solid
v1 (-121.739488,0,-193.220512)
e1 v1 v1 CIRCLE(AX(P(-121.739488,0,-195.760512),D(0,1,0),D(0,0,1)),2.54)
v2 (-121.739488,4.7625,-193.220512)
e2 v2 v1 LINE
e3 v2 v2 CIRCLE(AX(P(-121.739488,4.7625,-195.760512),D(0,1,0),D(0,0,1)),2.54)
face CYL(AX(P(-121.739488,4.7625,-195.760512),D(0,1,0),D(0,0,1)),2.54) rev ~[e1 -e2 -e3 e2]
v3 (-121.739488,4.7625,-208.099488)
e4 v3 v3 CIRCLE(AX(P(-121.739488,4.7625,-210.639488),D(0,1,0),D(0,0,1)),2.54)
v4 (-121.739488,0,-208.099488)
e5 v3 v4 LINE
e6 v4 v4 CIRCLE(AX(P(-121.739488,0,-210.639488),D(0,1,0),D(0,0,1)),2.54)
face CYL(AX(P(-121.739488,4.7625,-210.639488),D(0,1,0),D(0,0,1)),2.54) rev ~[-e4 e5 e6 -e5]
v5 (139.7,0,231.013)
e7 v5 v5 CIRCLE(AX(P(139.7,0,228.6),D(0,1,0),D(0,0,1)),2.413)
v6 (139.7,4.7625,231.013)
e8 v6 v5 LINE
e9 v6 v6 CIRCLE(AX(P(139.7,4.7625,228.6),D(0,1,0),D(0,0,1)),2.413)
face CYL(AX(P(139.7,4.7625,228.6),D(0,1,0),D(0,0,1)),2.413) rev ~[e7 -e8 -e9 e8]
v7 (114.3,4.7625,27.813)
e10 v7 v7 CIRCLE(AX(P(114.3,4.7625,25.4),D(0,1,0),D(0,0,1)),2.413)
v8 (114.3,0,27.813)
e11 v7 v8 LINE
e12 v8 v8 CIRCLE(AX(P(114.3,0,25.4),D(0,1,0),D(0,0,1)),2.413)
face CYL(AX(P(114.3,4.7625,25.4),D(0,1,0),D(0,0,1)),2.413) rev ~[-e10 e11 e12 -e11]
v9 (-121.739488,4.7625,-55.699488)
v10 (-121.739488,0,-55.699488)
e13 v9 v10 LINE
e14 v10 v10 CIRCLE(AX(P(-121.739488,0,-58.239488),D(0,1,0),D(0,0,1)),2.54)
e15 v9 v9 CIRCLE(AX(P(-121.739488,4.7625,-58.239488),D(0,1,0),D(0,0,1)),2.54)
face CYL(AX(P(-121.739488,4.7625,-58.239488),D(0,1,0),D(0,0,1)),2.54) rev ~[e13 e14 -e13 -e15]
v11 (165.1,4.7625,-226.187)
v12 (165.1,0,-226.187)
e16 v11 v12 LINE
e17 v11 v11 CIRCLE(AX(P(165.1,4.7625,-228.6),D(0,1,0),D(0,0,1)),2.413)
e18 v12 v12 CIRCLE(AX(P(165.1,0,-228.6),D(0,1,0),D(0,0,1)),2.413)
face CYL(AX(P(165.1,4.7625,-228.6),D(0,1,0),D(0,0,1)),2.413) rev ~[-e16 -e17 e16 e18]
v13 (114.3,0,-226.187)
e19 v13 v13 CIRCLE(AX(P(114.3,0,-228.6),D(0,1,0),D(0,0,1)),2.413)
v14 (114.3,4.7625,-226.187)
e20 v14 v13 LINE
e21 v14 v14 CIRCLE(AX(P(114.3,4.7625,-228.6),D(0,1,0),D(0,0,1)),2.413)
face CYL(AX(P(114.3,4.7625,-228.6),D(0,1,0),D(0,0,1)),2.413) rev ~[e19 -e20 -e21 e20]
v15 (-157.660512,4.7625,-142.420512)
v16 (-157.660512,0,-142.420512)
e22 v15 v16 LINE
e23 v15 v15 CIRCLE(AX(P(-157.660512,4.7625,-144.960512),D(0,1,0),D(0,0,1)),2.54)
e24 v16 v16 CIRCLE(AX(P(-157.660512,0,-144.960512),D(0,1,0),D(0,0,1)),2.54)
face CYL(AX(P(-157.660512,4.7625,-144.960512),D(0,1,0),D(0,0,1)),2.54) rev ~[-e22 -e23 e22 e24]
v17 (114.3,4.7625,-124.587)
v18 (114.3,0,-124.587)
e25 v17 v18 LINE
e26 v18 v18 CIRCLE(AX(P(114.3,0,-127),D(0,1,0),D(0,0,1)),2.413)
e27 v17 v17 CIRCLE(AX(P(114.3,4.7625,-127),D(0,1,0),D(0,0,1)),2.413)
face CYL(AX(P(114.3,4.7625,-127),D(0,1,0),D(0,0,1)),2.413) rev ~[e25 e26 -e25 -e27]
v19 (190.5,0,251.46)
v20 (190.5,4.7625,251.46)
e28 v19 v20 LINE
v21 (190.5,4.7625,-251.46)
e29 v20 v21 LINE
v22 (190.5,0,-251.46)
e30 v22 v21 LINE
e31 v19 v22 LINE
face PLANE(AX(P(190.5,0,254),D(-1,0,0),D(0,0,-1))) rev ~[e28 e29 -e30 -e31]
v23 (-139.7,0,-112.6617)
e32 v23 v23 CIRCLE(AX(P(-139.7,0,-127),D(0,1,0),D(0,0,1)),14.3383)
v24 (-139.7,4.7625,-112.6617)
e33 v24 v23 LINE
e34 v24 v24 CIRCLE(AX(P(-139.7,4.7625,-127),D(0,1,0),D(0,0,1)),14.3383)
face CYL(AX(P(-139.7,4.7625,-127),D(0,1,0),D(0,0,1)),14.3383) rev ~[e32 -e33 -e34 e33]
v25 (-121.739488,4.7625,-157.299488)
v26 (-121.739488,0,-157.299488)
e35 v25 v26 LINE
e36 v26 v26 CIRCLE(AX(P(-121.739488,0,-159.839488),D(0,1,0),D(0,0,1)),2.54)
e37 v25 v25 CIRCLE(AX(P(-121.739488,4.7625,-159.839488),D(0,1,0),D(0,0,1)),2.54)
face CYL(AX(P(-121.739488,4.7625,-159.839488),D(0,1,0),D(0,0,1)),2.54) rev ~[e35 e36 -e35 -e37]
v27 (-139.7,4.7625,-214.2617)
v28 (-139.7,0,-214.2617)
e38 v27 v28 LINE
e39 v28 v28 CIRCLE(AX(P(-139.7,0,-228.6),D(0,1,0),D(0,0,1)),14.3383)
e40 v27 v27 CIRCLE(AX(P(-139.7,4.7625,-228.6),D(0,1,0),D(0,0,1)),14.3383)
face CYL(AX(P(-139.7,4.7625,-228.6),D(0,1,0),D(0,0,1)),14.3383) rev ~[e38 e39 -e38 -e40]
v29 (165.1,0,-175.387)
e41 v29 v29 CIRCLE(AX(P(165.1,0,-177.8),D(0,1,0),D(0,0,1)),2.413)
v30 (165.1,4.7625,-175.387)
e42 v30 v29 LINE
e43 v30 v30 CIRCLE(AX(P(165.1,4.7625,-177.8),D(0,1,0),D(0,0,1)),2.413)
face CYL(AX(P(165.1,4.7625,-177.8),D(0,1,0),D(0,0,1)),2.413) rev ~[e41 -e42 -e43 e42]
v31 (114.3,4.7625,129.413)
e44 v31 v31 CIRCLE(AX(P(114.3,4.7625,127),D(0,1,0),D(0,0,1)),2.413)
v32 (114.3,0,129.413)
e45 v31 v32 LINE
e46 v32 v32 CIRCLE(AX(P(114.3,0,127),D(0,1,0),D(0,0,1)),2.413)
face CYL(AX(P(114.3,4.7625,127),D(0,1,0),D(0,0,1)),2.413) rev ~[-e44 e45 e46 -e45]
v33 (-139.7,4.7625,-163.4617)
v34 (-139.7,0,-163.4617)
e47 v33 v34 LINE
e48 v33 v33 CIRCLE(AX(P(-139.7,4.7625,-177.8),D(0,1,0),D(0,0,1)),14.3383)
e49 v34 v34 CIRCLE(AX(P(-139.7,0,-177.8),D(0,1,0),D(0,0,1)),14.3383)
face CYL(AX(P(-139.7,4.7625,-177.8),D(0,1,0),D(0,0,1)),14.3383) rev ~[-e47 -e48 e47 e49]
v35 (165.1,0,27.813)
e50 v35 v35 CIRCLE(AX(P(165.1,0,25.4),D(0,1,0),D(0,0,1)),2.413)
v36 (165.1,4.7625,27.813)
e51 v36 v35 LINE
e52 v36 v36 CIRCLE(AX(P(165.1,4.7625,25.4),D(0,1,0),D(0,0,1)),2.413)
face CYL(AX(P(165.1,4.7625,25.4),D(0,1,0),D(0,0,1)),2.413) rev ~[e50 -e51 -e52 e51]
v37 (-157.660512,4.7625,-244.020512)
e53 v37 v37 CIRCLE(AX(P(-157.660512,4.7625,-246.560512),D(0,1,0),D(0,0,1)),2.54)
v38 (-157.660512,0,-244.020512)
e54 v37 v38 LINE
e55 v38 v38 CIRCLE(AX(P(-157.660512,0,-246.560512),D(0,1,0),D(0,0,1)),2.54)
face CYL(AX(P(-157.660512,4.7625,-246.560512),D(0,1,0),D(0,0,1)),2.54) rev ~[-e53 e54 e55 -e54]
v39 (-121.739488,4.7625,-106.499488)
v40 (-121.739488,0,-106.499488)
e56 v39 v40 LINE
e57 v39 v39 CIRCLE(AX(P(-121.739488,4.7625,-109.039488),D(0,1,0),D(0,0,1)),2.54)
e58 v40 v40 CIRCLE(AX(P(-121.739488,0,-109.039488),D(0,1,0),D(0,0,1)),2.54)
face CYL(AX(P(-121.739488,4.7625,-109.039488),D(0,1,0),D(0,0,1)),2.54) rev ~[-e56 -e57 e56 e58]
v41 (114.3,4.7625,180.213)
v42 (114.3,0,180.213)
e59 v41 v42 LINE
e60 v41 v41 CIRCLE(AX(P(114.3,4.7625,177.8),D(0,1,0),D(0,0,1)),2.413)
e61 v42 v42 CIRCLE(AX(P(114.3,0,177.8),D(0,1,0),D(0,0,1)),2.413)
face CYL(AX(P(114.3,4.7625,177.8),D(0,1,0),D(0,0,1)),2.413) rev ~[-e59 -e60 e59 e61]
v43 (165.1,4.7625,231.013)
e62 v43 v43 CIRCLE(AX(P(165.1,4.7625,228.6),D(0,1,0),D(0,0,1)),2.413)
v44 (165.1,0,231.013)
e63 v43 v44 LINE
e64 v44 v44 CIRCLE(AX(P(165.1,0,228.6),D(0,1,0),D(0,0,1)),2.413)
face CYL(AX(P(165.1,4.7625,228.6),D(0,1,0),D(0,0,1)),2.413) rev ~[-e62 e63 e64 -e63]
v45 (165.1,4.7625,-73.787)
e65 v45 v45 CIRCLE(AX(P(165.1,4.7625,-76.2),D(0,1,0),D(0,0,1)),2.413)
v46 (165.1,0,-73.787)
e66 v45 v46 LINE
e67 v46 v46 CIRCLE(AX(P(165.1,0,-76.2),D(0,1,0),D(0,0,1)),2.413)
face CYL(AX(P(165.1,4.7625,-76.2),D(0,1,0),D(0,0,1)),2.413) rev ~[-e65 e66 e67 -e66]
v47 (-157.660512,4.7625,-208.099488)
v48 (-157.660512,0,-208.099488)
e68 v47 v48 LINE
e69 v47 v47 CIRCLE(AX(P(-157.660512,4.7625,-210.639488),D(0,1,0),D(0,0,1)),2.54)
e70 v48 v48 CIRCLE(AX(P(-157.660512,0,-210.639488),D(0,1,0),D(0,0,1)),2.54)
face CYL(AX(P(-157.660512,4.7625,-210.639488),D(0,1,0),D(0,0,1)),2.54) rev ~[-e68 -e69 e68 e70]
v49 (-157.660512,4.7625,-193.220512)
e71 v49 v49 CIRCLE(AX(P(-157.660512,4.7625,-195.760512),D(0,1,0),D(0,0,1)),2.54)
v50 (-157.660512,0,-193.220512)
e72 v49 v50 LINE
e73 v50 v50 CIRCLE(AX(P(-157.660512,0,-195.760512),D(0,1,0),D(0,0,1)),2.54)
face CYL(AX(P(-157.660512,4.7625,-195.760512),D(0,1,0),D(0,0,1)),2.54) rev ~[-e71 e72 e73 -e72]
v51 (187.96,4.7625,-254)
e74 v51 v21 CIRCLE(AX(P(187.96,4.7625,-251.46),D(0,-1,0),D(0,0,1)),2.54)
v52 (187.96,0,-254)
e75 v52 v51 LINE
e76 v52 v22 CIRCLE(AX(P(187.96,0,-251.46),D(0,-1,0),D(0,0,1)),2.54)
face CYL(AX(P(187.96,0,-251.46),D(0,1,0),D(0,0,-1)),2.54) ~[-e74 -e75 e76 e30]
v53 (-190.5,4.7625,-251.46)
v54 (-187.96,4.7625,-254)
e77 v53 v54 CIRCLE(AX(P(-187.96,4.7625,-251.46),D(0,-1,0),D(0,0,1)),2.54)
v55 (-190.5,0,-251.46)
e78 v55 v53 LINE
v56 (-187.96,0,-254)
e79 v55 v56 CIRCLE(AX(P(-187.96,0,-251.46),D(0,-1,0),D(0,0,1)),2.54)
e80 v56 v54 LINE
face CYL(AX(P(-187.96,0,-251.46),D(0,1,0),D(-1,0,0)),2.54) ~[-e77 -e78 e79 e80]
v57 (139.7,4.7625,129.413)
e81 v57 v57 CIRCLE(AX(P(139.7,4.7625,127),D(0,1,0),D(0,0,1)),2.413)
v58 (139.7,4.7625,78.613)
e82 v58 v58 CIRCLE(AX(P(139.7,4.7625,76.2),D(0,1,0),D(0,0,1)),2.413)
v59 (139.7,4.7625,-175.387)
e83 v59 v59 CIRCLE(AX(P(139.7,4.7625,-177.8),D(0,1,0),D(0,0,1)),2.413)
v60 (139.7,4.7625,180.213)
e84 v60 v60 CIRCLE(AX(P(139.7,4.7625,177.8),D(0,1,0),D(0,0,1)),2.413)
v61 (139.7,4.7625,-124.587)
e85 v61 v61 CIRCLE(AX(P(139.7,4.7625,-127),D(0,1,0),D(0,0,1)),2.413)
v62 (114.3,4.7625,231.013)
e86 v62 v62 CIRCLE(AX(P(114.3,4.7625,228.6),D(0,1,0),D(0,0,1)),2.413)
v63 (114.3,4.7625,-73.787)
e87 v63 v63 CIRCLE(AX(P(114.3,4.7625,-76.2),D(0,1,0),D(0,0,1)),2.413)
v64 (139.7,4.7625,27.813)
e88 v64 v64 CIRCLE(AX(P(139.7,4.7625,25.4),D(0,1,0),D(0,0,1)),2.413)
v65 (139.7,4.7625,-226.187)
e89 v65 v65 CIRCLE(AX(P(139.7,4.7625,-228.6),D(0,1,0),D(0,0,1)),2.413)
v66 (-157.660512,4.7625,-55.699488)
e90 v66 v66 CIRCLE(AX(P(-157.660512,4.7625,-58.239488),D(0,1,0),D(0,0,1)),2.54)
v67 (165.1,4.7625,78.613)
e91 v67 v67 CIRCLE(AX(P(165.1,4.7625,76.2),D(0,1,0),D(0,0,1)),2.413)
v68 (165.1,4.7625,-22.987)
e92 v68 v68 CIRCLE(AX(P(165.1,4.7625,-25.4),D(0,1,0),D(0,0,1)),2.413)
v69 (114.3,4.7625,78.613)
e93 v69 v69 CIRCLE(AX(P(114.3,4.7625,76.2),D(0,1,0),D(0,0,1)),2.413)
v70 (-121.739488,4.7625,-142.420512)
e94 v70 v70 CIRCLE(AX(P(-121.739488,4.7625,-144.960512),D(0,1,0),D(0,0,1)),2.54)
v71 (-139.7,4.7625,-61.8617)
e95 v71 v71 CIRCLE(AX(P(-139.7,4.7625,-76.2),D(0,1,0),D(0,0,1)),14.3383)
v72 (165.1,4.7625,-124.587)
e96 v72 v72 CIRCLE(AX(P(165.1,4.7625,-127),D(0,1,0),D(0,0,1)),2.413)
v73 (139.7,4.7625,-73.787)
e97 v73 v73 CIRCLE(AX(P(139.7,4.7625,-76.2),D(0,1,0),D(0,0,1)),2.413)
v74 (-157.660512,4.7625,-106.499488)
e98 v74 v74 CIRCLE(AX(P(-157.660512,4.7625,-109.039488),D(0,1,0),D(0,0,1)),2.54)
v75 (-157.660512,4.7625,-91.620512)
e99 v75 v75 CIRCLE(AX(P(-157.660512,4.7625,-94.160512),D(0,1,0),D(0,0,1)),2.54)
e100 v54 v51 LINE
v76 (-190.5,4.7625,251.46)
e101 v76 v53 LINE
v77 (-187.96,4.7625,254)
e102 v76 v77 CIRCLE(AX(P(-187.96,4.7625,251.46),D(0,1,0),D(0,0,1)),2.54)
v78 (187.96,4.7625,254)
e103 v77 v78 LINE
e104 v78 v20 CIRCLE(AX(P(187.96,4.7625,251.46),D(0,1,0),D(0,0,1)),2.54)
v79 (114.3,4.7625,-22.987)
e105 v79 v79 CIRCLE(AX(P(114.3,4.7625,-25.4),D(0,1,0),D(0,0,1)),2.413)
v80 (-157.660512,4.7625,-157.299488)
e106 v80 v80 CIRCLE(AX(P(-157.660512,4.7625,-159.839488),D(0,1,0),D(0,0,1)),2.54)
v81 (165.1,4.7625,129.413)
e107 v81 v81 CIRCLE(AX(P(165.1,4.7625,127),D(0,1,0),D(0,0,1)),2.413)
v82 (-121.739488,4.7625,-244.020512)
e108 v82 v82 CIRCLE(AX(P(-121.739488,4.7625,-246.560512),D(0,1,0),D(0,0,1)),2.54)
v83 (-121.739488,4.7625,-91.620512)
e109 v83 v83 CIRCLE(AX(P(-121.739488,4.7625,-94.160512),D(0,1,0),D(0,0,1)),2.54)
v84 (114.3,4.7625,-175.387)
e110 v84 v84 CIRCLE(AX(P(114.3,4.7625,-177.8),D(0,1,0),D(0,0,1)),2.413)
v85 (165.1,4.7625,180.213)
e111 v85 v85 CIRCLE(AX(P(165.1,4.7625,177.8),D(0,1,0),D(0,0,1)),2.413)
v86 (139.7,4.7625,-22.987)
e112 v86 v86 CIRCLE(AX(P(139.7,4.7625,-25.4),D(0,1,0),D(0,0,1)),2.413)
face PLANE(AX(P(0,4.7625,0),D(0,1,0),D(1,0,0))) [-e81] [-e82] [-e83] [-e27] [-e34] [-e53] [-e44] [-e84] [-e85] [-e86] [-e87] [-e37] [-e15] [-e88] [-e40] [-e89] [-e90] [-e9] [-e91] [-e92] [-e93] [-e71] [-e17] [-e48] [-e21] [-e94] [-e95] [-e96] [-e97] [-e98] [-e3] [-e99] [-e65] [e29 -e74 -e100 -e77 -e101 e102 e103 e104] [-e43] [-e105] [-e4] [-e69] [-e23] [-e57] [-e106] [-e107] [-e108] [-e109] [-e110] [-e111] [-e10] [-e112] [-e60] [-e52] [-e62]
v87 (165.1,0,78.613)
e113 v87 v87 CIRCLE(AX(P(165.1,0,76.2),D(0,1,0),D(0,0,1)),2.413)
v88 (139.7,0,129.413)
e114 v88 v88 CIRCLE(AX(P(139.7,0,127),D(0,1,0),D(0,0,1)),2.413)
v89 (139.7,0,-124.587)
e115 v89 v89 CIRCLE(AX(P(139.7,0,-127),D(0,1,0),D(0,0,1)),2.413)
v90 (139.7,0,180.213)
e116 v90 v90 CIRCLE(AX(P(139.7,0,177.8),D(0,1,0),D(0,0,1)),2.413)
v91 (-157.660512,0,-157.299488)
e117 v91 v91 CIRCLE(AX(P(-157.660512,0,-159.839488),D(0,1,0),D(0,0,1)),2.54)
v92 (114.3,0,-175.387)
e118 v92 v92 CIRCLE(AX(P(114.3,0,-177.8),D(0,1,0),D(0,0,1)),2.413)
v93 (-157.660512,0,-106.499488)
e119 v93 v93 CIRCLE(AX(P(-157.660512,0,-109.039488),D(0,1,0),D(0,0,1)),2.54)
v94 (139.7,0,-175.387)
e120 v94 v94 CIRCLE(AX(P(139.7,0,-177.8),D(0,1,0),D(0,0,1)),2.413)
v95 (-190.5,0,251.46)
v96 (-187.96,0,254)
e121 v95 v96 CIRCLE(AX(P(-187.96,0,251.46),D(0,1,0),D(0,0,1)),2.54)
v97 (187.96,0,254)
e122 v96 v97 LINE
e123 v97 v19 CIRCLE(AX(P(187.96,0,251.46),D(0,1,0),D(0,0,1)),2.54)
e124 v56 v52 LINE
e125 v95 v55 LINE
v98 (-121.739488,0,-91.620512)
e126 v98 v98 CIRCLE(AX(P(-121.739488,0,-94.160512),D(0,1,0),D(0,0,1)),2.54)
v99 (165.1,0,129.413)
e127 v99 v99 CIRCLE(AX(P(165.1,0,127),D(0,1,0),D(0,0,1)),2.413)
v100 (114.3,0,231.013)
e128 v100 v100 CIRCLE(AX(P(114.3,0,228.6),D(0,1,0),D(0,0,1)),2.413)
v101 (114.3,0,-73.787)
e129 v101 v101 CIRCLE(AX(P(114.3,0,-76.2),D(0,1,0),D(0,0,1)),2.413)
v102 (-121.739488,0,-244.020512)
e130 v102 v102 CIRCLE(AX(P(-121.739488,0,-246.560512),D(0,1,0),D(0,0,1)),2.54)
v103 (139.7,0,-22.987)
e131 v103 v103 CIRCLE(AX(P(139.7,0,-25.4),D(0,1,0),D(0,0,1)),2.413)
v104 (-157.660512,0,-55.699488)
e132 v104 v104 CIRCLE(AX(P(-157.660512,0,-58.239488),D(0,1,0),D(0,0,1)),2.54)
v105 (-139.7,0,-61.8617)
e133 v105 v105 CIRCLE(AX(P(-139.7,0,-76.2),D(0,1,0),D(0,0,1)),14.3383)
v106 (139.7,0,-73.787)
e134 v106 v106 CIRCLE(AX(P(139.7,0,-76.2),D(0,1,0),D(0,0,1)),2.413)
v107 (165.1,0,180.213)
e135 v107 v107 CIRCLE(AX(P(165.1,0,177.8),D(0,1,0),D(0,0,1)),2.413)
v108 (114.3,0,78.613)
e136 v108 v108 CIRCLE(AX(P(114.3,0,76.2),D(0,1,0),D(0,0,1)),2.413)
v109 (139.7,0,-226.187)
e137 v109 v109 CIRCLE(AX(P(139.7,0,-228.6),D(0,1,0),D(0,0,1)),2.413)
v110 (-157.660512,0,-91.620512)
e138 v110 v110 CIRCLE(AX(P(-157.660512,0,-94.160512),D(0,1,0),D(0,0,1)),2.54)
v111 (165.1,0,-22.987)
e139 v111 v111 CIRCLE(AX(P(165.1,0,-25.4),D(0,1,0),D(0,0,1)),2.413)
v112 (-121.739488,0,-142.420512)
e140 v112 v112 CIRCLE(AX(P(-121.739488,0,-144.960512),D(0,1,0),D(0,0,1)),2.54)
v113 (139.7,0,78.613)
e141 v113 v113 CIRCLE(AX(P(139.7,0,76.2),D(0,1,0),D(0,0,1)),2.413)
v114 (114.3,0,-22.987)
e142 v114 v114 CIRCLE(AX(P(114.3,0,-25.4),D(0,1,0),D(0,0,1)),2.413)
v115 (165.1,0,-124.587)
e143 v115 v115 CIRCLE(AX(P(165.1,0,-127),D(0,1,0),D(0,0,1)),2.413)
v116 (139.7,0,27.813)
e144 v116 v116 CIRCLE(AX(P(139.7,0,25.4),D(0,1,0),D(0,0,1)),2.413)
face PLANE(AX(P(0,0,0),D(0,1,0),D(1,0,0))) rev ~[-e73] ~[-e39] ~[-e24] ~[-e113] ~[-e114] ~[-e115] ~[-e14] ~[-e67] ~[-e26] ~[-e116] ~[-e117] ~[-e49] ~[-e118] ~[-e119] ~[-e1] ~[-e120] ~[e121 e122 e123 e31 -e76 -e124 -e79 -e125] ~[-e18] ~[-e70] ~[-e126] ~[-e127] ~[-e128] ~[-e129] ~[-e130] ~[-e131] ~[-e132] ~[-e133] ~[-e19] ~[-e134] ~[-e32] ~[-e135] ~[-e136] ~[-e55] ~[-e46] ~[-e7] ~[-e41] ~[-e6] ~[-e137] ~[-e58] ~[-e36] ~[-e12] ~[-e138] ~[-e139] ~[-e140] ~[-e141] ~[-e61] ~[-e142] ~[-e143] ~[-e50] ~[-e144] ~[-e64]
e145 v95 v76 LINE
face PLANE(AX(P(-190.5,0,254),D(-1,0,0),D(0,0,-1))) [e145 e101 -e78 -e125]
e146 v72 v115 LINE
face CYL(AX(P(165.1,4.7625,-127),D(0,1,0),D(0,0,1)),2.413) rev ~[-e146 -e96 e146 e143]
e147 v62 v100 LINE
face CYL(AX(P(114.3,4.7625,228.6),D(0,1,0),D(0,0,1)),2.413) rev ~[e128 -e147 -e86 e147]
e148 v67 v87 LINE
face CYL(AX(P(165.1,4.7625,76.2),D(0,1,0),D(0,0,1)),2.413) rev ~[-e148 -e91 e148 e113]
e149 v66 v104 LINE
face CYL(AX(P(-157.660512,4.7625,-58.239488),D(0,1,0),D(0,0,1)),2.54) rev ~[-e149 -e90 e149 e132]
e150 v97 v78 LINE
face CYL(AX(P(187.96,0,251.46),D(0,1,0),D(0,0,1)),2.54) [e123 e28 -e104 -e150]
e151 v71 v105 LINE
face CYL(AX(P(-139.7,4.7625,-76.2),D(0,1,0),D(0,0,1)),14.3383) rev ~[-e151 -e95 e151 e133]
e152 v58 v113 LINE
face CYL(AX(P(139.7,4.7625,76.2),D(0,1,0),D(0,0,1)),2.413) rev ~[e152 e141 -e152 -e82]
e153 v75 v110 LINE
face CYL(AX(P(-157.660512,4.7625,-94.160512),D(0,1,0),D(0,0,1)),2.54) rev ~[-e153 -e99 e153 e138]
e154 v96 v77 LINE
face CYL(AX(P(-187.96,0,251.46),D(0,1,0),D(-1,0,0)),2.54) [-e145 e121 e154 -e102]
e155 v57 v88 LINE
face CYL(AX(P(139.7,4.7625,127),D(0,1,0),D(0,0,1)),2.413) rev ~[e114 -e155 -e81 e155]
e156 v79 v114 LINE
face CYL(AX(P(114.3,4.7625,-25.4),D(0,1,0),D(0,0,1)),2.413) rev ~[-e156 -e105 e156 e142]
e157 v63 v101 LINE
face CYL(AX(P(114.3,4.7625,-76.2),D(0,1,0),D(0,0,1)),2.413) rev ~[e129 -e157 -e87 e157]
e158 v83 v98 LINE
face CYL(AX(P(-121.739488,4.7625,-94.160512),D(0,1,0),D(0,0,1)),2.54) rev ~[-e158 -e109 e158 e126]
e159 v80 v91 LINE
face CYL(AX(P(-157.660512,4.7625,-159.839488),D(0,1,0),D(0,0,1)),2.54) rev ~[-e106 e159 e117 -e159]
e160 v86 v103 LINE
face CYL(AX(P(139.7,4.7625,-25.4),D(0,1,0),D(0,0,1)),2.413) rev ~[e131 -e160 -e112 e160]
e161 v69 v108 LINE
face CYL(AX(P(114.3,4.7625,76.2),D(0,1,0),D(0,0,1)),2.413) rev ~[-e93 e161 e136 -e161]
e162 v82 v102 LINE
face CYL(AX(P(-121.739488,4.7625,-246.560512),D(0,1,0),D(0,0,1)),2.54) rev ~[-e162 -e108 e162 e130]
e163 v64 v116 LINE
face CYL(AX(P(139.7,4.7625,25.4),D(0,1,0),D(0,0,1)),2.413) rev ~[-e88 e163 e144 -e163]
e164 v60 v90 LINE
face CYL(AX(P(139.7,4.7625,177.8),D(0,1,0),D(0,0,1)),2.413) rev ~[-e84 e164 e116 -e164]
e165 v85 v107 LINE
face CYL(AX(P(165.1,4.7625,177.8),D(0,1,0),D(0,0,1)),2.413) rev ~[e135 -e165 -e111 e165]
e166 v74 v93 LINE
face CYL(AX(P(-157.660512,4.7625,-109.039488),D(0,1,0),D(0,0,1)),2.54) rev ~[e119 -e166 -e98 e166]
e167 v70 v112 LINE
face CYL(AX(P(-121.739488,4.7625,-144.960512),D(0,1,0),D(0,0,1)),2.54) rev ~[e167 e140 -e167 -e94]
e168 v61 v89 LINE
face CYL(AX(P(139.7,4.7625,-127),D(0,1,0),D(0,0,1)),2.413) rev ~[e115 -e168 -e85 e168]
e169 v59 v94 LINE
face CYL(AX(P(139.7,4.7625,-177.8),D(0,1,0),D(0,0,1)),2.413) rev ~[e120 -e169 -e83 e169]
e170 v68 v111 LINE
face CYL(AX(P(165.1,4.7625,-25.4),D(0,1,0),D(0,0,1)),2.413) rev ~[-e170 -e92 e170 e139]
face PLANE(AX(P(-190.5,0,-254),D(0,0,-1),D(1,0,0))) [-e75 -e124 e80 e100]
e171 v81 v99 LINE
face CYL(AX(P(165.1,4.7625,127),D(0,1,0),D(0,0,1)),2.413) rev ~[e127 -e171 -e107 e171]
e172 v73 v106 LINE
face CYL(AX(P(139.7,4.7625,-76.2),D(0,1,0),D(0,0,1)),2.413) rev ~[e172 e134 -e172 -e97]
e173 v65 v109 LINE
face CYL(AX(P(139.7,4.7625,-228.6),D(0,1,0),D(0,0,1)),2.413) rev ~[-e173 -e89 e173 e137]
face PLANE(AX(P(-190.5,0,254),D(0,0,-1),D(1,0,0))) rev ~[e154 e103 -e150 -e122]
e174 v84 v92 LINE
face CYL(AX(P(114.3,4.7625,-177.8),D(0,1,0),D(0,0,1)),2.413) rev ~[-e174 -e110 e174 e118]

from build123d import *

# Parameters (mm, degrees)
SKETCH1_W           = 381
SKETCH1_H           = 508
BOSS_EXTRUDE1_DEPTH = 4.7625
SKETCH2_R           = 14.3383
SKETCH2_R_2         = 2.54
CUT_EXTRUDE1_DEPTH  = 4.7625
SKETCH3_R           = 2.413
CUT_EXTRUDE2_DEPTH  = 4.7625
FILLET1_R           = 2.54


with BuildPart() as part:
    # Sketch1 → Boss-Extrude1 (new body)
    with BuildSketch(Plane(origin=(0, 0, 0), x_dir=(1, 0, 0), z_dir=(0, 1, 0))):
        Rectangle(SKETCH1_W, SKETCH1_H)
    extrude(amount=BOSS_EXTRUDE1_DEPTH)

    # Sketch2 → Cut-Extrude1 (cut)
    with BuildSketch(Plane(origin=(0, 4.7625, 0), x_dir=(1, 0, 0), z_dir=(0, 1, 0))):
        with Locations(Location((-139.7, 228.6, 0), (0, 0, 270))):
            Circle(SKETCH2_R)
        with Locations(Location((-157.660512242, 246.560512242, 0), (0, 0, 270))):
            Circle(SKETCH2_R_2)
        with Locations(Location((-121.739487758, 246.560512242, 0), (0, 0, 270))):
            Circle(SKETCH2_R_2)
        with Locations(Location((-121.739487758, 210.639487758, 0), (0, 0, 270))):
            Circle(SKETCH2_R_2)
        with Locations(Location((-157.660512242, 210.639487758, 0), (0, 0, 270))):
            Circle(SKETCH2_R_2)
        with Locations(Location((-139.7, 177.8, 0), (0, 0, 270))):
            Circle(SKETCH2_R)
        with Locations(Location((-121.739487758, 195.760512242, 0), (0, 0, 270))):
            Circle(SKETCH2_R_2)
        with Locations(Location((-157.660512242, 195.760512242, 0), (0, 0, 270))):
            Circle(SKETCH2_R_2)
        with Locations(Location((-157.660512242, 159.839487758, 0), (0, 0, 270))):
            Circle(SKETCH2_R_2)
        with Locations(Location((-121.739487758, 159.839487758, 0), (0, 0, 270))):
            Circle(SKETCH2_R_2)
        with Locations(Location((-139.7, 127, 0), (0, 0, 270))):
            Circle(SKETCH2_R)
        with Locations(Location((-121.739487758, 144.960512242, 0), (0, 0, 270))):
            Circle(SKETCH2_R_2)
        with Locations(Location((-157.660512242, 144.960512242, 0), (0, 0, 270))):
            Circle(SKETCH2_R_2)
        with Locations(Location((-157.660512242, 109.039487758, 0), (0, 0, 270))):
            Circle(SKETCH2_R_2)
        with Locations(Location((-121.739487758, 109.039487758, 0), (0, 0, 270))):
            Circle(SKETCH2_R_2)
        with Locations(Location((-139.7, 76.2, 0), (0, 0, 270))):
            Circle(SKETCH2_R)
        with Locations(Location((-121.739487758, 94.160512242, 0), (0, 0, 270))):
            Circle(SKETCH2_R_2)
        with Locations(Location((-157.660512242, 94.160512242, 0), (0, 0, 270))):
            Circle(SKETCH2_R_2)
        with Locations(Location((-157.660512242, 58.239487758, 0), (0, 0, 270))):
            Circle(SKETCH2_R_2)
        with Locations(Location((-121.739487758, 58.239487758, 0), (0, 0, 270))):
            Circle(SKETCH2_R_2)
    extrude(amount=-CUT_EXTRUDE1_DEPTH, mode=Mode.SUBTRACT)

    # Sketch3 → Cut-Extrude2 (cut)
    with BuildSketch(Plane(origin=(0, 4.7625, 0), x_dir=(1, 0, 0), z_dir=(0, 1, 0))):
        with Locations(Location((165.1, 228.6, 0), (0, 0, 270))):
            Circle(SKETCH3_R)
        with Locations(Location((165.1, 177.8, 0), (0, 0, 270))):
            Circle(SKETCH3_R)
        with Locations(Location((165.1, 127, 0), (0, 0, 270))):
            Circle(SKETCH3_R)
        with Locations(Location((165.1, 76.2, 0), (0, 0, 270))):
            Circle(SKETCH3_R)
        with Locations(Location((165.1, 25.4, 0), (0, 0, 270))):
            Circle(SKETCH3_R)
        with Locations(Location((165.1, -25.4, 0), (0, 0, 270))):
            Circle(SKETCH3_R)
        with Locations(Location((165.1, -76.2, 0), (0, 0, 270))):
            Circle(SKETCH3_R)
        with Locations(Location((165.1, -127, 0), (0, 0, 270))):
            Circle(SKETCH3_R)
        with Locations(Location((165.1, -177.8, 0), (0, 0, 270))):
            Circle(SKETCH3_R)
        with Locations(Location((165.1, -228.6, 0), (0, 0, 270))):
            Circle(SKETCH3_R)
        with Locations(Location((139.7, 177.8, 0), (0, 0, 270))):
            Circle(SKETCH3_R)
        with Locations(Location((139.7, 127, 0), (0, 0, 270))):
            Circle(SKETCH3_R)
        with Locations(Location((139.7, 76.2, 0), (0, 0, 270))):
            Circle(SKETCH3_R)
        with Locations(Location((139.7, 25.4, 0), (0, 0, 270))):
            Circle(SKETCH3_R)
        with Locations(Location((139.7, -25.4, 0), (0, 0, 270))):
            Circle(SKETCH3_R)
        with Locations(Location((139.7, -76.2, 0), (0, 0, 270))):
            Circle(SKETCH3_R)
        with Locations(Location((139.7, -127, 0), (0, 0, 270))):
            Circle(SKETCH3_R)
        with Locations(Location((139.7, -177.8, 0), (0, 0, 270))):
            Circle(SKETCH3_R)
        with Locations(Location((139.7, -228.6, 0), (0, 0, 270))):
            Circle(SKETCH3_R)
        with Locations(Location((114.3, 177.8, 0), (0, 0, 270))):
            Circle(SKETCH3_R)
        with Locations(Location((114.3, 127, 0), (0, 0, 270))):
            Circle(SKETCH3_R)
        with Locations(Location((114.3, 76.2, 0), (0, 0, 270))):
            Circle(SKETCH3_R)
        with Locations(Location((114.3, 25.4, 0), (0, 0, 270))):
            Circle(SKETCH3_R)
        with Locations(Location((114.3, -25.4, 0), (0, 0, 270))):
            Circle(SKETCH3_R)
        with Locations(Location((114.3, -76.2, 0), (0, 0, 270))):
            Circle(SKETCH3_R)
        with Locations(Location((114.3, -127, 0), (0, 0, 270))):
            Circle(SKETCH3_R)
        with Locations(Location((114.3, -177.8, 0), (0, 0, 270))):
            Circle(SKETCH3_R)
        with Locations(Location((114.3, -228.6, 0), (0, 0, 270))):
            Circle(SKETCH3_R)
        with Locations(Location((139.7, 228.6, 0), (0, 0, 270))):
            Circle(SKETCH3_R)
        with Locations(Location((114.3, 228.6, 0), (0, 0, 270))):
            Circle(SKETCH3_R)
    extrude(amount=-CUT_EXTRUDE2_DEPTH, mode=Mode.SUBTRACT)

    # Fillet1
    fillet1_edges = [part.edges().sort_by_distance(p)[0] for p in [
        (190.5, 2.38125, 254),
        (-190.5, 2.38125, 254),
        (-190.5, 2.38125, -254),
        (190.5, 2.38125, -254),
    ]]
    fillet(fillet1_edges, radius=FILLET1_R)


solid = part.part
